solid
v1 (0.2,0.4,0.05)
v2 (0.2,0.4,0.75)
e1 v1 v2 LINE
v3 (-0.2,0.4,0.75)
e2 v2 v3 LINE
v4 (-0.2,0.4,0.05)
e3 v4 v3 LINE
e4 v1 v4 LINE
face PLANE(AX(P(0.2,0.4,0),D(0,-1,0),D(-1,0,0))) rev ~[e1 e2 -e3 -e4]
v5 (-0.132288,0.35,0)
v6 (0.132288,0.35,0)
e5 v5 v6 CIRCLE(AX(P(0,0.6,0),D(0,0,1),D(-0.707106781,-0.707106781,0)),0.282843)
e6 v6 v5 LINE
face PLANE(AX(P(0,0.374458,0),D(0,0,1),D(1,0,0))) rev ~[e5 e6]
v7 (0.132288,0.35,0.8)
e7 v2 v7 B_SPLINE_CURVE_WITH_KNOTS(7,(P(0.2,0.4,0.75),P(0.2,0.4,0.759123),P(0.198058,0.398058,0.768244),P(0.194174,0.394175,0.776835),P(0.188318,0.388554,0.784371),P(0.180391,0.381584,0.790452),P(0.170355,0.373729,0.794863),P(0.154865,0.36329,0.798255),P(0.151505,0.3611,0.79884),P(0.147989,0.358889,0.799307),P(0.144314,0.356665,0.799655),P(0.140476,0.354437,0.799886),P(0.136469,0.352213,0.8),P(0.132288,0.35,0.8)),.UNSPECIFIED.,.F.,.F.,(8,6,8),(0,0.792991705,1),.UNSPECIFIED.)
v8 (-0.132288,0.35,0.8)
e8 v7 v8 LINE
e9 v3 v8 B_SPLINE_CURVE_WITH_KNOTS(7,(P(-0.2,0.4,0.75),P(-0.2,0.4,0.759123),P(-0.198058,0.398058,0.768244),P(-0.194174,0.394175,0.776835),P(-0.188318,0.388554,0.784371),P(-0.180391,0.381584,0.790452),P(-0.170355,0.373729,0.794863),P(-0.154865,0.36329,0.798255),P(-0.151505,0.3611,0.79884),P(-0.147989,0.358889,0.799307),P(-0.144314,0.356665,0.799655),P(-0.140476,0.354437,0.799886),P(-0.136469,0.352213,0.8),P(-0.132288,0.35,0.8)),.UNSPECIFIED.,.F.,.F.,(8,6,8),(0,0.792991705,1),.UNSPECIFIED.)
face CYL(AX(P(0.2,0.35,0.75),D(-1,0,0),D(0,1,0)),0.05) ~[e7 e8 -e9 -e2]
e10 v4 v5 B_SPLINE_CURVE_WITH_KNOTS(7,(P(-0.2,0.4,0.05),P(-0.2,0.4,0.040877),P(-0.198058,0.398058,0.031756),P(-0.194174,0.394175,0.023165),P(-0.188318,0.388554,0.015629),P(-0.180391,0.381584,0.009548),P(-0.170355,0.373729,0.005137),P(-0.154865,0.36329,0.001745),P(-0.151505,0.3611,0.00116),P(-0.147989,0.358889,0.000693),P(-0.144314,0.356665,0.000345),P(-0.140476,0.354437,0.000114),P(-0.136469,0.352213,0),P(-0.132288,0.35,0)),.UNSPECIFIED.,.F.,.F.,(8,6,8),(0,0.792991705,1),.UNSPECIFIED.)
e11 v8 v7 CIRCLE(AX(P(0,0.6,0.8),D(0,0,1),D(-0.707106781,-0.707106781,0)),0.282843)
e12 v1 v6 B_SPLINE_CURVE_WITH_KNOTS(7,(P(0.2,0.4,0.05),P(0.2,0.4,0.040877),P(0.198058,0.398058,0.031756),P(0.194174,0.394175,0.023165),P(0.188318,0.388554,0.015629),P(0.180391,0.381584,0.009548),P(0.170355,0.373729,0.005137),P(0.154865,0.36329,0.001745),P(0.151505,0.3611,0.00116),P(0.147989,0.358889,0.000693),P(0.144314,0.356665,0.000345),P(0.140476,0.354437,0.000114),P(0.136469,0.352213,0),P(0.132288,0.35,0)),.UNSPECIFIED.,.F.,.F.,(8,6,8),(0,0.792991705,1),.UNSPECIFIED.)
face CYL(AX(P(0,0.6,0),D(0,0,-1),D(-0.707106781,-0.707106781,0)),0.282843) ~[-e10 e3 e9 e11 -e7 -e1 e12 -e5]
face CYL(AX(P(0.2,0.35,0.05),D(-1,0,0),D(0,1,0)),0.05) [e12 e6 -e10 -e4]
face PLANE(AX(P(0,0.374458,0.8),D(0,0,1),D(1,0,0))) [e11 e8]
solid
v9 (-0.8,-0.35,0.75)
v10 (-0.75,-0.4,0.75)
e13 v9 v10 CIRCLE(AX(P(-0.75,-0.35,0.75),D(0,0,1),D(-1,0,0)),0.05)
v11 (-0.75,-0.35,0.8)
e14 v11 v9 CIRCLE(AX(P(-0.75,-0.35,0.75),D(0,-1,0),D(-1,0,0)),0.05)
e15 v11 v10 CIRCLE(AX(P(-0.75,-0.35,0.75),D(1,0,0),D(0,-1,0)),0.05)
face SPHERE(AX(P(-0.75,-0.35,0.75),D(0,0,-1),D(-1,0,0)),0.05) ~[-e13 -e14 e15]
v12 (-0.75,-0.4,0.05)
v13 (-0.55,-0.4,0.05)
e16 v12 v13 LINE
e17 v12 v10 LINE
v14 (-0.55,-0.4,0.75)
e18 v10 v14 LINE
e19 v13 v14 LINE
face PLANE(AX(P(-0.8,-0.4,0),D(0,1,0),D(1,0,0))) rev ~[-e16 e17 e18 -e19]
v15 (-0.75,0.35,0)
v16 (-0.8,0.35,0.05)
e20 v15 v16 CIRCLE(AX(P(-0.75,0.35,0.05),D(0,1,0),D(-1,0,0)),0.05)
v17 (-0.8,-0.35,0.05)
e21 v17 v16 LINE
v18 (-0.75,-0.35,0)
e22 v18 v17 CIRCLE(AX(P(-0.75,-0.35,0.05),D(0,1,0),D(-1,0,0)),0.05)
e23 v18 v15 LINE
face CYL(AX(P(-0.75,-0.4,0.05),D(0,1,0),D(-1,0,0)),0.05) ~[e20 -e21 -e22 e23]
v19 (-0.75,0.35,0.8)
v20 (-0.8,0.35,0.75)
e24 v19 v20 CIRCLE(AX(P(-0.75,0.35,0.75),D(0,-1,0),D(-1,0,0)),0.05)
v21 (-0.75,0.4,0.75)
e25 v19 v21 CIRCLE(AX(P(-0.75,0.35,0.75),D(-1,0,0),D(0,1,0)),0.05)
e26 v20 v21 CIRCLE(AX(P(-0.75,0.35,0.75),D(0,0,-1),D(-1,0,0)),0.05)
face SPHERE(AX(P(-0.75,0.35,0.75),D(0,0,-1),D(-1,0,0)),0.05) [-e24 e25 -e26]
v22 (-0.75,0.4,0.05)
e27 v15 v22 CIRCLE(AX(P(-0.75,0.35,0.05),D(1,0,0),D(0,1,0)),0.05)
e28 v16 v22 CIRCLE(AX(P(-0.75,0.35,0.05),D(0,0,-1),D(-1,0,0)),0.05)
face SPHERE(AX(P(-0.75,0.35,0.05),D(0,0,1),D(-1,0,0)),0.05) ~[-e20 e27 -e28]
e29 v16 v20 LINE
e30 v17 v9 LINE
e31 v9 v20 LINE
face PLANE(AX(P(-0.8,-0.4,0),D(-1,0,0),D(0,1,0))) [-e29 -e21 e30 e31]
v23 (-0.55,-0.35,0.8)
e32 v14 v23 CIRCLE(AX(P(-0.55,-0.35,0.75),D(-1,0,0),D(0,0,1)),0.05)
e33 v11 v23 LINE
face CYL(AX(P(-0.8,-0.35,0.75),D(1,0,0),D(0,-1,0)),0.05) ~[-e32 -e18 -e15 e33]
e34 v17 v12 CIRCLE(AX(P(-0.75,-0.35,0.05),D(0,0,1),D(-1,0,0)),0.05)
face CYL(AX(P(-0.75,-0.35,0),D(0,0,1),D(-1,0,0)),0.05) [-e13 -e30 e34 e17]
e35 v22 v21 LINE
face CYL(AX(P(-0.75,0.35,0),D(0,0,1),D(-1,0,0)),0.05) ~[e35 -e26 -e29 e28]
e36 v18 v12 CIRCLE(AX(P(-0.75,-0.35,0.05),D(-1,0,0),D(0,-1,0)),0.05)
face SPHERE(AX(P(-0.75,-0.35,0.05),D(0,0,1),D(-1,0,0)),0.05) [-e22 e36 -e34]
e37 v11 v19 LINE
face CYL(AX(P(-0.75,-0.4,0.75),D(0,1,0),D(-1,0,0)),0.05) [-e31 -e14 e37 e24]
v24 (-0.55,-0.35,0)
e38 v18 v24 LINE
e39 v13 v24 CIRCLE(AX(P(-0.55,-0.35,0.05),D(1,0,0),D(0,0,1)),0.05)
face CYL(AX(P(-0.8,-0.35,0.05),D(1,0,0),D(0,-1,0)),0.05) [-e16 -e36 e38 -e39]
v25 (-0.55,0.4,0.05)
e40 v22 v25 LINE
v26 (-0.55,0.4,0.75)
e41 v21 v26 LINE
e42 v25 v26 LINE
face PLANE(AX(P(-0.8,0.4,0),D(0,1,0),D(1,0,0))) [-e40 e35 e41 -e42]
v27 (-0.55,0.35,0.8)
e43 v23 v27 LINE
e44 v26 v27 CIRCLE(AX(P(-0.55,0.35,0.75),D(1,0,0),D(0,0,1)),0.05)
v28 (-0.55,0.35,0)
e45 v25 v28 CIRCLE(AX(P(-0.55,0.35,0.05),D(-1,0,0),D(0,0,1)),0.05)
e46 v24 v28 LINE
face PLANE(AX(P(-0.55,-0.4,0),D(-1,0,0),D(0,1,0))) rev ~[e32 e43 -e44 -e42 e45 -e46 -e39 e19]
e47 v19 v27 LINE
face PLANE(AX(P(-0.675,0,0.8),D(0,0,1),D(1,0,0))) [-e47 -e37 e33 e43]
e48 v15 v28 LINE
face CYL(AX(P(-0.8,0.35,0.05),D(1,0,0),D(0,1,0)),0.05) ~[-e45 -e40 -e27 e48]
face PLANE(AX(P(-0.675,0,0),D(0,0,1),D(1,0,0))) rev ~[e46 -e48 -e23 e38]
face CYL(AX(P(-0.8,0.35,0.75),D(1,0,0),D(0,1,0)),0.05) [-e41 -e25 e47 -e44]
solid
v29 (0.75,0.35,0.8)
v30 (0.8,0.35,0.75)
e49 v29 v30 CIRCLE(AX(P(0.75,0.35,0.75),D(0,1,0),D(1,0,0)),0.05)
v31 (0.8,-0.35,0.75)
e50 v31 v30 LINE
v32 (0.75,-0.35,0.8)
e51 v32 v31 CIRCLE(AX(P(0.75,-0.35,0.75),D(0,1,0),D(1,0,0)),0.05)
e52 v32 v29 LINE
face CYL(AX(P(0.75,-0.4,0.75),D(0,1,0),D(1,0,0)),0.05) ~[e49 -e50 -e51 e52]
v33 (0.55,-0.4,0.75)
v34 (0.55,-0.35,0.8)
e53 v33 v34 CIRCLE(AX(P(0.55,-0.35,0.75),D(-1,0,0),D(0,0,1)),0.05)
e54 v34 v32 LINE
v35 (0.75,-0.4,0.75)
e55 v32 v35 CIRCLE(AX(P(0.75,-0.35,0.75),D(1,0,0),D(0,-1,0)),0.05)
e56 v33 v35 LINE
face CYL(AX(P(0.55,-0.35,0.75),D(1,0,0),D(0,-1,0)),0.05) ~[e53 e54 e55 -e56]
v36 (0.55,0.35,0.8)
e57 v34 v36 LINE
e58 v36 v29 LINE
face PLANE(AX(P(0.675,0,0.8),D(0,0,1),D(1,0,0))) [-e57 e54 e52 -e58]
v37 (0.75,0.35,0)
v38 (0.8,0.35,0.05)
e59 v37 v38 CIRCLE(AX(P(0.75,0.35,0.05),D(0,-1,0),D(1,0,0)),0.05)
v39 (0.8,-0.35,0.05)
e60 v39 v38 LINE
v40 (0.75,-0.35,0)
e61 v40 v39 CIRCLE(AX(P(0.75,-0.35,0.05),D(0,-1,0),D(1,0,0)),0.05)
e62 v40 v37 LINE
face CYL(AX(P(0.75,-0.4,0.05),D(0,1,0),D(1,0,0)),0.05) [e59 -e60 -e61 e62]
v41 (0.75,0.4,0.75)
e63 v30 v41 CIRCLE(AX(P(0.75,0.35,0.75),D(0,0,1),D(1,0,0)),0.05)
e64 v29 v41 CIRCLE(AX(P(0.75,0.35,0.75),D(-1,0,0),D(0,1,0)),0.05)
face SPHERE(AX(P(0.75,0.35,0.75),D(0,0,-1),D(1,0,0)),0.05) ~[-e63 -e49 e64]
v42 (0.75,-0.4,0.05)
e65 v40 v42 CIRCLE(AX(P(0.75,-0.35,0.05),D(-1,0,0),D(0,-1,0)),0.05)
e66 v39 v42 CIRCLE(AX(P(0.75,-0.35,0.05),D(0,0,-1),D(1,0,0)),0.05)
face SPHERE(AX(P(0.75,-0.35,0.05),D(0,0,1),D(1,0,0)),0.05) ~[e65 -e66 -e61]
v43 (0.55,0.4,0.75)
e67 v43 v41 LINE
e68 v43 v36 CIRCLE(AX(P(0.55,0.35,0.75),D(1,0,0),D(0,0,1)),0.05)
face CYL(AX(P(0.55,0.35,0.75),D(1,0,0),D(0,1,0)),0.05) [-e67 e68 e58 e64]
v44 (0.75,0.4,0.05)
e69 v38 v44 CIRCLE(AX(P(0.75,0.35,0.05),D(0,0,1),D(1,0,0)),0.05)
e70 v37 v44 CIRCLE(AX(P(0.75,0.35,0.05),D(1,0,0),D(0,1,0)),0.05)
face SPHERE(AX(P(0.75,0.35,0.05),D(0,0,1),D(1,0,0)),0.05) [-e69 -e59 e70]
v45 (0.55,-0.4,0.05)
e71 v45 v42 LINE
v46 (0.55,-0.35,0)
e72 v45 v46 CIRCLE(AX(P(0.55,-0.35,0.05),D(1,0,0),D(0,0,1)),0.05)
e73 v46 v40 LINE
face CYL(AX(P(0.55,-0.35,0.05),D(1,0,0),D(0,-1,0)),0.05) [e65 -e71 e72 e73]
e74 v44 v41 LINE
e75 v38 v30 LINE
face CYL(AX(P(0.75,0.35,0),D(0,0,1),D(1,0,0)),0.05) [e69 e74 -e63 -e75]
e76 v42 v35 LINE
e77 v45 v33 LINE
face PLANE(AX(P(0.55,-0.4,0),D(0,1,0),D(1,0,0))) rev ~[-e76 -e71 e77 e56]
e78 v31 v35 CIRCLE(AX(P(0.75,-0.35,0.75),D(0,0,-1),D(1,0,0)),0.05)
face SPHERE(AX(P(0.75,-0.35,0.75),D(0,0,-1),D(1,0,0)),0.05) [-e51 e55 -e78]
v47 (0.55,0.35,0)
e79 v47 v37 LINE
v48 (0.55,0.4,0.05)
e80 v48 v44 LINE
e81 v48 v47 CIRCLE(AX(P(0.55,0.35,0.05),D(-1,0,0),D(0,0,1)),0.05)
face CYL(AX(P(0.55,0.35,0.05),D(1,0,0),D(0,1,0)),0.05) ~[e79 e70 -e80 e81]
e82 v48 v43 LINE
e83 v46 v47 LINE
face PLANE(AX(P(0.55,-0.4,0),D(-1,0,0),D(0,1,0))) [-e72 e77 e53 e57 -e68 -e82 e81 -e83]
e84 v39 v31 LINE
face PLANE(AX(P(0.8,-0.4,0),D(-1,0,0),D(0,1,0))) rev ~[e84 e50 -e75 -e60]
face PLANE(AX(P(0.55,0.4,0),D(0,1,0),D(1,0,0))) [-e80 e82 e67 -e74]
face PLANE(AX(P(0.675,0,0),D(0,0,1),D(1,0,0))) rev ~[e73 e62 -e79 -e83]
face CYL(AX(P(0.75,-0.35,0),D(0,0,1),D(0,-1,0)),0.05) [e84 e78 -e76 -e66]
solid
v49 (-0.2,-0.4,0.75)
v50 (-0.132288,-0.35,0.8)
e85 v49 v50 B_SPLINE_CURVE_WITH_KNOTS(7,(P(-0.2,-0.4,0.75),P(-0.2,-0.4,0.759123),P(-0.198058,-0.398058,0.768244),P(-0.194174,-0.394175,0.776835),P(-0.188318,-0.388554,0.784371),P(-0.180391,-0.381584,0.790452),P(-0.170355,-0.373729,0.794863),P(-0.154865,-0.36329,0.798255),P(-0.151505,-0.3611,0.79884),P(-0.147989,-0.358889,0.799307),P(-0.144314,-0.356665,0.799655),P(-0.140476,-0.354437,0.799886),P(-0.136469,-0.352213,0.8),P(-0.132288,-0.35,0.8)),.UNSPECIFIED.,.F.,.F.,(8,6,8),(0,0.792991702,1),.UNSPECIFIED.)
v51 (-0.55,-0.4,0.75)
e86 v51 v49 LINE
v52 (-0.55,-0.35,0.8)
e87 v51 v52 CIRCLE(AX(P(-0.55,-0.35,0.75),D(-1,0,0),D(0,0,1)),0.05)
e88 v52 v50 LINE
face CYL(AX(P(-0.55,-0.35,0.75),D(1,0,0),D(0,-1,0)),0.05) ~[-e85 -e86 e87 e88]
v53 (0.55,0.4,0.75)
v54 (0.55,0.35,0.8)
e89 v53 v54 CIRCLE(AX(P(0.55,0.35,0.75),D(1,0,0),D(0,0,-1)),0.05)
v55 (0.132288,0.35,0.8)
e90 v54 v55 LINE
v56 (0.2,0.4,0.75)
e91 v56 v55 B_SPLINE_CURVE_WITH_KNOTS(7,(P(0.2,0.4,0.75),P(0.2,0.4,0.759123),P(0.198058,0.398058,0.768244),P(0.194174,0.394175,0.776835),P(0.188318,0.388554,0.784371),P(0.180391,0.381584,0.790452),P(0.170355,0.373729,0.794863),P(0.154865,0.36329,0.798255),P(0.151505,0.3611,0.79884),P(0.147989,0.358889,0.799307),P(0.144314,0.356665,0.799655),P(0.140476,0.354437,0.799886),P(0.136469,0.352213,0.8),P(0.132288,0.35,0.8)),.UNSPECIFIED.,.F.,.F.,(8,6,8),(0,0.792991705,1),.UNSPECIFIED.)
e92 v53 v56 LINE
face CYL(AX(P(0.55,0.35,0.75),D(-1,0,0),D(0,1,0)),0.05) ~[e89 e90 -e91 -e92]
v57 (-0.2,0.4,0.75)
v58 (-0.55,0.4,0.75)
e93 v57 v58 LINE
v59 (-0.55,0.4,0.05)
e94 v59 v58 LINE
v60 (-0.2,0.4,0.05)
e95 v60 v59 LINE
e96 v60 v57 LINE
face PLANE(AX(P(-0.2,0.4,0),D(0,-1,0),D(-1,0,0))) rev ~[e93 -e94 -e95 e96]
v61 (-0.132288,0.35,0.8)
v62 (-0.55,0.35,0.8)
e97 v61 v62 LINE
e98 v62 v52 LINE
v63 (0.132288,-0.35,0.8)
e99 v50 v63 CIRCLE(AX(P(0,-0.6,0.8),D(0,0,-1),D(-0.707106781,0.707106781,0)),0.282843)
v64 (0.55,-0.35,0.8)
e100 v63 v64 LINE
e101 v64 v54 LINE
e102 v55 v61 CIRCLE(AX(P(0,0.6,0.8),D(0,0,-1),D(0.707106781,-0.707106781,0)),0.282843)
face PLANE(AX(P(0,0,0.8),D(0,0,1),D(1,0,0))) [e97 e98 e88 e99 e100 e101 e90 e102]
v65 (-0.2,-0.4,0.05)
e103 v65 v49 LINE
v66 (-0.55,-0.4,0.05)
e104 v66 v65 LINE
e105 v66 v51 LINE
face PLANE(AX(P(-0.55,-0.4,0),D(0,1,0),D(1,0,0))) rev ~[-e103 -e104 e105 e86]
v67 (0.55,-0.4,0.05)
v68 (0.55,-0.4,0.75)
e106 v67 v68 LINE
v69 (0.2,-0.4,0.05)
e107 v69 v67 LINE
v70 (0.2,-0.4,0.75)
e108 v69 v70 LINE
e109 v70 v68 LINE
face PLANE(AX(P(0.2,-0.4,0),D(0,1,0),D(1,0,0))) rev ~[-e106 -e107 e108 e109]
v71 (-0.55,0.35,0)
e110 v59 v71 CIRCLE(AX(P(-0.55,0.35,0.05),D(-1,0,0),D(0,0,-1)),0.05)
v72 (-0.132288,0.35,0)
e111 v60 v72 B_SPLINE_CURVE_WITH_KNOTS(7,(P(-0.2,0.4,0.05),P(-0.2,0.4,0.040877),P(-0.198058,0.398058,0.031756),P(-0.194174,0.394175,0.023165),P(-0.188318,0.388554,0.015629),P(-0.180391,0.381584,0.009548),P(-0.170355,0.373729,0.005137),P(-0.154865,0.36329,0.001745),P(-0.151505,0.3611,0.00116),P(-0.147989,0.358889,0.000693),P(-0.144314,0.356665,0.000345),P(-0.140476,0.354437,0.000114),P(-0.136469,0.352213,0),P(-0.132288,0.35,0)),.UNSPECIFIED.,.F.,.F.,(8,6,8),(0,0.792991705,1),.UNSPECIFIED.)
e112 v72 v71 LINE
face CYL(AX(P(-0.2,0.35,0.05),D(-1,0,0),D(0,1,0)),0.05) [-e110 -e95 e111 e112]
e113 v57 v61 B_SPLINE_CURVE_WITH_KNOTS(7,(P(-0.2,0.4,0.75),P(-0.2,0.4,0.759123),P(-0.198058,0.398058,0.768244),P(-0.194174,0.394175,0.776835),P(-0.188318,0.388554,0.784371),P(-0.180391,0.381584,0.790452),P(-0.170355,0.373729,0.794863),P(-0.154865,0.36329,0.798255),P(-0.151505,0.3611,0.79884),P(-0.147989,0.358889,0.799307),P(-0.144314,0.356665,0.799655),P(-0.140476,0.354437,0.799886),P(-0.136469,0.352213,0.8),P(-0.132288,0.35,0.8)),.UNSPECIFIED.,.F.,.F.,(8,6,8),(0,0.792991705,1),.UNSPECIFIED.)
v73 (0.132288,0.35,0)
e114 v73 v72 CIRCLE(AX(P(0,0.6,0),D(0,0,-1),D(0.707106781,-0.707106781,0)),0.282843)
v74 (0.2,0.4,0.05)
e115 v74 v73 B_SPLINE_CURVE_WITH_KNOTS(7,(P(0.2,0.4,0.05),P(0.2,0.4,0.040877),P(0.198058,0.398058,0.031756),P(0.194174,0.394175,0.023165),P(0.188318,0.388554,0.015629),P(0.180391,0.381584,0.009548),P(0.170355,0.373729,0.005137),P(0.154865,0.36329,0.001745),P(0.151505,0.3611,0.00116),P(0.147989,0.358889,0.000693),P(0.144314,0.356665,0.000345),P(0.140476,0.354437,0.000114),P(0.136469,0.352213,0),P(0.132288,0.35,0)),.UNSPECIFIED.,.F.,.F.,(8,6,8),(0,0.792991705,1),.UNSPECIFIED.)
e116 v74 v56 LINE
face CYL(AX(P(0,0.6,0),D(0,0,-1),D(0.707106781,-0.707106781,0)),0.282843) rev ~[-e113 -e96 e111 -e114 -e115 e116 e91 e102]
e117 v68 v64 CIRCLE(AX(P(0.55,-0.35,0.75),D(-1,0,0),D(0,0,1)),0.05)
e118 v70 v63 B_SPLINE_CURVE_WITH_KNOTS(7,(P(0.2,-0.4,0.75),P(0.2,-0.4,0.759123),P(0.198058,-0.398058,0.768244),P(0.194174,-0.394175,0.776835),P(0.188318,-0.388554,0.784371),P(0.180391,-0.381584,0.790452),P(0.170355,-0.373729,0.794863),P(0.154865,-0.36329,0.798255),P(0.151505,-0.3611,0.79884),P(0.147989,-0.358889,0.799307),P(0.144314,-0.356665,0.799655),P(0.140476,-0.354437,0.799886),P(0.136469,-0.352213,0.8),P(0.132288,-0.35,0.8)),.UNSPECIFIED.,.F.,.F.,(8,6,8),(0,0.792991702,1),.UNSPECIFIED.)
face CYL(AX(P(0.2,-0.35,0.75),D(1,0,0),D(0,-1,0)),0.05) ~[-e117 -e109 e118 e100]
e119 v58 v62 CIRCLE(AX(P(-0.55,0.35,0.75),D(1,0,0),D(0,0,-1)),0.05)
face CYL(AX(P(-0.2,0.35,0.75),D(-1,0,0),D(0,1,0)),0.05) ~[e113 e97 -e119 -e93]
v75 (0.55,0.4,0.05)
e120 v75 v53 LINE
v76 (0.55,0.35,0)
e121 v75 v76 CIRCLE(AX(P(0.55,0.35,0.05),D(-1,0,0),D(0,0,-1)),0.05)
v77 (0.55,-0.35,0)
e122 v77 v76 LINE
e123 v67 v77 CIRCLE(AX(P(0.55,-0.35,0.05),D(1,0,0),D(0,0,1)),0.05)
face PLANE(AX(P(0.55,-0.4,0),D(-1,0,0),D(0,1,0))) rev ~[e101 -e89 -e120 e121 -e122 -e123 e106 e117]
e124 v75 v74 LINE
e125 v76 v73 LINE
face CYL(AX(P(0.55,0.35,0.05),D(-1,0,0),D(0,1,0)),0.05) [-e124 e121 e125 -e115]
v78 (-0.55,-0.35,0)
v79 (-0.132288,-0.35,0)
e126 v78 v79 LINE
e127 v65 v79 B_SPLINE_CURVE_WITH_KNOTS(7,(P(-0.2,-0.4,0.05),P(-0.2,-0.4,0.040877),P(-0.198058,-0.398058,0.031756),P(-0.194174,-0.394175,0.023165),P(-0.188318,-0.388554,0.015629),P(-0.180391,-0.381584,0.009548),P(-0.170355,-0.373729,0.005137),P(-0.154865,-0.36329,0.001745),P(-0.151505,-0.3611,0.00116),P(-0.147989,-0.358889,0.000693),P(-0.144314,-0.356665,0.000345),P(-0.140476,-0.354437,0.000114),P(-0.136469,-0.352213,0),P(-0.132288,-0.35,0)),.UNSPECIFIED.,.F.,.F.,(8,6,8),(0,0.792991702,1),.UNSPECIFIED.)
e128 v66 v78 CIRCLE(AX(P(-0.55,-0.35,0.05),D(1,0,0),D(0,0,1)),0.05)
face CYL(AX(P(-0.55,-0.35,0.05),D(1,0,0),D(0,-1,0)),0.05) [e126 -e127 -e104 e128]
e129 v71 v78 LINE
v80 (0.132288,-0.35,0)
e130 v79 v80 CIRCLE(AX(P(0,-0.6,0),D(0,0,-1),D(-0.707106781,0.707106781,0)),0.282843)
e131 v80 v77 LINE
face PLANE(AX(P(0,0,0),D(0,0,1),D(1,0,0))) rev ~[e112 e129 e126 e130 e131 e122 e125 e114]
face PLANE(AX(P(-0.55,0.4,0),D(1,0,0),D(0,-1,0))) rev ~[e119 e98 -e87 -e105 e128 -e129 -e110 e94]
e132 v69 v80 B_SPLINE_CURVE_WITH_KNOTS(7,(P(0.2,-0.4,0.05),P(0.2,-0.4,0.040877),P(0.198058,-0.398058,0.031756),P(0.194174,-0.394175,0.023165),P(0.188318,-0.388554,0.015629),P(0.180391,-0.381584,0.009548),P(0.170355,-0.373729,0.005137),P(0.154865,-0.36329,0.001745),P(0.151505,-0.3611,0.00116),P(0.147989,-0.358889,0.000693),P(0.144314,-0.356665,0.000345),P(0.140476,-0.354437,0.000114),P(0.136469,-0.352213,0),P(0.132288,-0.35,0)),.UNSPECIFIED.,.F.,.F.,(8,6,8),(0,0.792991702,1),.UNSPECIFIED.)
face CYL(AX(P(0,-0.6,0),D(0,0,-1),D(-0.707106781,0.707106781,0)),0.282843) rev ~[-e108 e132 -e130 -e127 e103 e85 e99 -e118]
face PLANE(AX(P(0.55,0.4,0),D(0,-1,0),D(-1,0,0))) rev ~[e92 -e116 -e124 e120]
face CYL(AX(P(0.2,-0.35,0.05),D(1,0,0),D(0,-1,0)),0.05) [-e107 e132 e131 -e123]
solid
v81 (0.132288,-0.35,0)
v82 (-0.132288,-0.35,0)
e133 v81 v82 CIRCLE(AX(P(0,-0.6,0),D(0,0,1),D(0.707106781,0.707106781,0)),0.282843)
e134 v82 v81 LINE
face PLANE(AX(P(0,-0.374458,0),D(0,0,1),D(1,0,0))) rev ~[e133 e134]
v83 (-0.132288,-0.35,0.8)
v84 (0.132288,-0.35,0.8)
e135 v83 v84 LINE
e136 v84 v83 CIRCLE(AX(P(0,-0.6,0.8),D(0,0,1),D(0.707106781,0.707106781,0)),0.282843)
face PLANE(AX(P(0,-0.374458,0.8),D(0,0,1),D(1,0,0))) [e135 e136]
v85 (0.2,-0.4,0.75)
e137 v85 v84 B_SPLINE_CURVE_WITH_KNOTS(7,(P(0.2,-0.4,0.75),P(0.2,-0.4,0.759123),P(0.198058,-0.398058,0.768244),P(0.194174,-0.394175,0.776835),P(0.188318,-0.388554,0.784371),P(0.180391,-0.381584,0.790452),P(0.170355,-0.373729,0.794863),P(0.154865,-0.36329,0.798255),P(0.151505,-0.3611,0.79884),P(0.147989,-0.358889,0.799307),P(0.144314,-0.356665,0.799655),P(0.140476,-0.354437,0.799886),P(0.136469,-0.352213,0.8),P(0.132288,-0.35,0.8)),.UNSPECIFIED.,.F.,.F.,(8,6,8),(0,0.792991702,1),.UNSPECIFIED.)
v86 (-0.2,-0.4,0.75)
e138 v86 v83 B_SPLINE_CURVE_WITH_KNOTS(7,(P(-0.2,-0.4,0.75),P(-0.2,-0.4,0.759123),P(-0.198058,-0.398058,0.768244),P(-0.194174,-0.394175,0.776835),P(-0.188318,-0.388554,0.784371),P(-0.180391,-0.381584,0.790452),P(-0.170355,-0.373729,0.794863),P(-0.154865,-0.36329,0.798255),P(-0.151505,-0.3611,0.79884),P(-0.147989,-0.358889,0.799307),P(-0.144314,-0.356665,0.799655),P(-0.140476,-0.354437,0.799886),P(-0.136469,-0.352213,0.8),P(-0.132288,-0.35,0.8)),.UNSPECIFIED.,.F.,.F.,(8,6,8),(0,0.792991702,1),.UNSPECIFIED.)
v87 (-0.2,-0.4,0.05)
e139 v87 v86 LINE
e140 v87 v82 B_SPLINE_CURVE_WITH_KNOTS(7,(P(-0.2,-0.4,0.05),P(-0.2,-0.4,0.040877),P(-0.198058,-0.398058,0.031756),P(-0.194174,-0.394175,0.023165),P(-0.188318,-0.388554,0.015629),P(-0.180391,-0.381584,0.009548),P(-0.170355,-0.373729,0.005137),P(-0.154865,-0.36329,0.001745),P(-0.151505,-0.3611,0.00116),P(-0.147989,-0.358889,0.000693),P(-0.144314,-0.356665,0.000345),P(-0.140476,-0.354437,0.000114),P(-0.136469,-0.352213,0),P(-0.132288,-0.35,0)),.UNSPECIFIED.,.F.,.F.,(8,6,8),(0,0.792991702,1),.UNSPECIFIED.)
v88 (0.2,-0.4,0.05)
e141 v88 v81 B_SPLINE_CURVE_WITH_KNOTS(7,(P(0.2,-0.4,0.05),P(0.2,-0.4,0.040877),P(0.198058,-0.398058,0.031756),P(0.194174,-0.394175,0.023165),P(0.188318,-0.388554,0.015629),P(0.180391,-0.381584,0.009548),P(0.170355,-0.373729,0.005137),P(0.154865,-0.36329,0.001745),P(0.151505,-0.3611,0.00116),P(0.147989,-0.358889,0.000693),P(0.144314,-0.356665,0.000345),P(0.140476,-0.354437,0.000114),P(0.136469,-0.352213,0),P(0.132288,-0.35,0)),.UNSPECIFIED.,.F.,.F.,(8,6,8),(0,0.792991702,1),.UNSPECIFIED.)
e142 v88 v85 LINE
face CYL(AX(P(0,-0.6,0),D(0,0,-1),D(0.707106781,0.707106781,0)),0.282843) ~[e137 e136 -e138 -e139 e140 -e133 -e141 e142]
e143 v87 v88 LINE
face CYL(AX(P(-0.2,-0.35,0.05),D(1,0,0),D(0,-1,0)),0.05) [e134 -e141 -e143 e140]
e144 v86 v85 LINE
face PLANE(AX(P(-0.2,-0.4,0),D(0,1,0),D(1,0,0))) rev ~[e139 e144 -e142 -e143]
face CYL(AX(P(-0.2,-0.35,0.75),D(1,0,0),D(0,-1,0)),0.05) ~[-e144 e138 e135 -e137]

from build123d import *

# Parameters (mm, degrees)
F2_DEPTH = 0.8
F1_W     = 0.25
F1_H     = 0.8
F3_DEPTH = 0.8
F4_DEPTH = 0.8
F5_R     = 0.05
F5_2_R   = 0.05
F5_3_R   = 0.05
F5_4_R   = 0.05
F5_5_R   = 0.05


with BuildPart() as f2:
    # F1 (on Top) → F2 (new body)
    with BuildSketch(Plane.XY):
        with BuildLine():
            Line((0.55, -0.4), (0.55, 0.4))
            Line((0.55, 0.4), (0.2, 0.4))
            ThreePointArc((0.2, 0.4), (0, 0.3171572875), (-0.2, 0.4))
            Line((-0.2, 0.4), (-0.55, 0.4))
            Line((-0.55, 0.4), (-0.55, -0.4))
            Line((-0.55, -0.4), (-0.2, -0.4))
            ThreePointArc((-0.2, -0.4), (0, -0.3171572875), (0.2, -0.4))
            Line((0.2, -0.4), (0.55, -0.4))
        make_face()
    extrude(amount=F2_DEPTH)

    # F5#3
    f5_3_edges = [f2.edges().sort_by_distance(p)[0] for p in [
        (-0.375, 0.4, 0.8),
        (0.375, 0.4, 0.8),
        (0.375, -0.4, 0.8),
        (-0.375, -0.4, 0.8),
        (-0.375, 0.4, 0),
        (0.375, 0.4, 0),
        (-0.375, -0.4, 0),
        (0.375, -0.4, 0),
    ]]
    fillet(f5_3_edges, radius=F5_3_R)


with BuildPart() as f3:
    # F1 (on Top) → F3 (new body)
    with BuildSketch(Plane.XY):
        with Locations((-0.675, 0)):
            Rectangle(F1_W, F1_H)
    extrude(amount=F3_DEPTH)

    # F5
    f5_edges = [f3.edges().sort_by_distance(p)[0] for p in [
        (-0.8, 0.4, 0.4),
        (-0.8, -0.4, 0.4),
        (-0.8, 0, 0),
        (-0.8, 0, 0.8),
        (-0.675, 0.4, 0.8),
        (-0.675, -0.4, 0.8),
        (-0.675, -0.4, 0),
        (-0.675, 0.4, 0),
    ]]
    fillet(f5_edges, radius=F5_R)


with BuildPart() as f3b:
    # F1 (on Top) → F3, piece 2 (new body)
    with BuildSketch(Plane.XY):
        with Locations((0.675, 0)):
            Rectangle(F1_W, F1_H)
    extrude(amount=F3_DEPTH)

    # F5#2
    f5_2_edges = [f3b.edges().sort_by_distance(p)[0] for p in [
        (0.8, -0.4, 0.4),
        (0.8, 0.4, 0.4),
        (0.8, 0, 0),
        (0.8, 0, 0.8),
        (0.675, 0.4, 0.8),
        (0.675, -0.4, 0.8),
        (0.675, 0.4, 0),
        (0.675, -0.4, 0),
    ]]
    fillet(f5_2_edges, radius=F5_2_R)


with BuildPart() as f4:
    # F1 (on Top) → F4 (new body)
    with BuildSketch(Plane.XY):
        with BuildLine():
            Line((-0.2, -0.4), (0.2, -0.4))
            ThreePointArc((0.2, -0.4), (0, -0.3171572875), (-0.2, -0.4))
        make_face()
    extrude(amount=F4_DEPTH)

    # F5#5
    f5_5_edges = [f4.edges().sort_by_distance(p)[0] for p in [
        (0, -0.4, 0.8),
        (0, -0.4, 0),
    ]]
    fillet(f5_5_edges, radius=F5_5_R)


with BuildPart() as f4b:
    # F1 (on Top) → F4, piece 2 (new body)
    with BuildSketch(Plane.XY):
        with BuildLine():
            ThreePointArc((-0.2, 0.4), (0, 0.3171572875), (0.2, 0.4))
            Line((0.2, 0.4), (-0.2, 0.4))
        make_face()
    extrude(amount=F4_DEPTH)

    # F5#4
    f5_4_edges = [f4b.edges().sort_by_distance(p)[0] for p in [
        (0, 0.4, 0.8),
        (0, 0.4, 0),
    ]]
    fillet(f5_4_edges, radius=F5_4_R)


solid = Compound([f2.part, f3.part, f3b.part, f4.part, f4b.part])
